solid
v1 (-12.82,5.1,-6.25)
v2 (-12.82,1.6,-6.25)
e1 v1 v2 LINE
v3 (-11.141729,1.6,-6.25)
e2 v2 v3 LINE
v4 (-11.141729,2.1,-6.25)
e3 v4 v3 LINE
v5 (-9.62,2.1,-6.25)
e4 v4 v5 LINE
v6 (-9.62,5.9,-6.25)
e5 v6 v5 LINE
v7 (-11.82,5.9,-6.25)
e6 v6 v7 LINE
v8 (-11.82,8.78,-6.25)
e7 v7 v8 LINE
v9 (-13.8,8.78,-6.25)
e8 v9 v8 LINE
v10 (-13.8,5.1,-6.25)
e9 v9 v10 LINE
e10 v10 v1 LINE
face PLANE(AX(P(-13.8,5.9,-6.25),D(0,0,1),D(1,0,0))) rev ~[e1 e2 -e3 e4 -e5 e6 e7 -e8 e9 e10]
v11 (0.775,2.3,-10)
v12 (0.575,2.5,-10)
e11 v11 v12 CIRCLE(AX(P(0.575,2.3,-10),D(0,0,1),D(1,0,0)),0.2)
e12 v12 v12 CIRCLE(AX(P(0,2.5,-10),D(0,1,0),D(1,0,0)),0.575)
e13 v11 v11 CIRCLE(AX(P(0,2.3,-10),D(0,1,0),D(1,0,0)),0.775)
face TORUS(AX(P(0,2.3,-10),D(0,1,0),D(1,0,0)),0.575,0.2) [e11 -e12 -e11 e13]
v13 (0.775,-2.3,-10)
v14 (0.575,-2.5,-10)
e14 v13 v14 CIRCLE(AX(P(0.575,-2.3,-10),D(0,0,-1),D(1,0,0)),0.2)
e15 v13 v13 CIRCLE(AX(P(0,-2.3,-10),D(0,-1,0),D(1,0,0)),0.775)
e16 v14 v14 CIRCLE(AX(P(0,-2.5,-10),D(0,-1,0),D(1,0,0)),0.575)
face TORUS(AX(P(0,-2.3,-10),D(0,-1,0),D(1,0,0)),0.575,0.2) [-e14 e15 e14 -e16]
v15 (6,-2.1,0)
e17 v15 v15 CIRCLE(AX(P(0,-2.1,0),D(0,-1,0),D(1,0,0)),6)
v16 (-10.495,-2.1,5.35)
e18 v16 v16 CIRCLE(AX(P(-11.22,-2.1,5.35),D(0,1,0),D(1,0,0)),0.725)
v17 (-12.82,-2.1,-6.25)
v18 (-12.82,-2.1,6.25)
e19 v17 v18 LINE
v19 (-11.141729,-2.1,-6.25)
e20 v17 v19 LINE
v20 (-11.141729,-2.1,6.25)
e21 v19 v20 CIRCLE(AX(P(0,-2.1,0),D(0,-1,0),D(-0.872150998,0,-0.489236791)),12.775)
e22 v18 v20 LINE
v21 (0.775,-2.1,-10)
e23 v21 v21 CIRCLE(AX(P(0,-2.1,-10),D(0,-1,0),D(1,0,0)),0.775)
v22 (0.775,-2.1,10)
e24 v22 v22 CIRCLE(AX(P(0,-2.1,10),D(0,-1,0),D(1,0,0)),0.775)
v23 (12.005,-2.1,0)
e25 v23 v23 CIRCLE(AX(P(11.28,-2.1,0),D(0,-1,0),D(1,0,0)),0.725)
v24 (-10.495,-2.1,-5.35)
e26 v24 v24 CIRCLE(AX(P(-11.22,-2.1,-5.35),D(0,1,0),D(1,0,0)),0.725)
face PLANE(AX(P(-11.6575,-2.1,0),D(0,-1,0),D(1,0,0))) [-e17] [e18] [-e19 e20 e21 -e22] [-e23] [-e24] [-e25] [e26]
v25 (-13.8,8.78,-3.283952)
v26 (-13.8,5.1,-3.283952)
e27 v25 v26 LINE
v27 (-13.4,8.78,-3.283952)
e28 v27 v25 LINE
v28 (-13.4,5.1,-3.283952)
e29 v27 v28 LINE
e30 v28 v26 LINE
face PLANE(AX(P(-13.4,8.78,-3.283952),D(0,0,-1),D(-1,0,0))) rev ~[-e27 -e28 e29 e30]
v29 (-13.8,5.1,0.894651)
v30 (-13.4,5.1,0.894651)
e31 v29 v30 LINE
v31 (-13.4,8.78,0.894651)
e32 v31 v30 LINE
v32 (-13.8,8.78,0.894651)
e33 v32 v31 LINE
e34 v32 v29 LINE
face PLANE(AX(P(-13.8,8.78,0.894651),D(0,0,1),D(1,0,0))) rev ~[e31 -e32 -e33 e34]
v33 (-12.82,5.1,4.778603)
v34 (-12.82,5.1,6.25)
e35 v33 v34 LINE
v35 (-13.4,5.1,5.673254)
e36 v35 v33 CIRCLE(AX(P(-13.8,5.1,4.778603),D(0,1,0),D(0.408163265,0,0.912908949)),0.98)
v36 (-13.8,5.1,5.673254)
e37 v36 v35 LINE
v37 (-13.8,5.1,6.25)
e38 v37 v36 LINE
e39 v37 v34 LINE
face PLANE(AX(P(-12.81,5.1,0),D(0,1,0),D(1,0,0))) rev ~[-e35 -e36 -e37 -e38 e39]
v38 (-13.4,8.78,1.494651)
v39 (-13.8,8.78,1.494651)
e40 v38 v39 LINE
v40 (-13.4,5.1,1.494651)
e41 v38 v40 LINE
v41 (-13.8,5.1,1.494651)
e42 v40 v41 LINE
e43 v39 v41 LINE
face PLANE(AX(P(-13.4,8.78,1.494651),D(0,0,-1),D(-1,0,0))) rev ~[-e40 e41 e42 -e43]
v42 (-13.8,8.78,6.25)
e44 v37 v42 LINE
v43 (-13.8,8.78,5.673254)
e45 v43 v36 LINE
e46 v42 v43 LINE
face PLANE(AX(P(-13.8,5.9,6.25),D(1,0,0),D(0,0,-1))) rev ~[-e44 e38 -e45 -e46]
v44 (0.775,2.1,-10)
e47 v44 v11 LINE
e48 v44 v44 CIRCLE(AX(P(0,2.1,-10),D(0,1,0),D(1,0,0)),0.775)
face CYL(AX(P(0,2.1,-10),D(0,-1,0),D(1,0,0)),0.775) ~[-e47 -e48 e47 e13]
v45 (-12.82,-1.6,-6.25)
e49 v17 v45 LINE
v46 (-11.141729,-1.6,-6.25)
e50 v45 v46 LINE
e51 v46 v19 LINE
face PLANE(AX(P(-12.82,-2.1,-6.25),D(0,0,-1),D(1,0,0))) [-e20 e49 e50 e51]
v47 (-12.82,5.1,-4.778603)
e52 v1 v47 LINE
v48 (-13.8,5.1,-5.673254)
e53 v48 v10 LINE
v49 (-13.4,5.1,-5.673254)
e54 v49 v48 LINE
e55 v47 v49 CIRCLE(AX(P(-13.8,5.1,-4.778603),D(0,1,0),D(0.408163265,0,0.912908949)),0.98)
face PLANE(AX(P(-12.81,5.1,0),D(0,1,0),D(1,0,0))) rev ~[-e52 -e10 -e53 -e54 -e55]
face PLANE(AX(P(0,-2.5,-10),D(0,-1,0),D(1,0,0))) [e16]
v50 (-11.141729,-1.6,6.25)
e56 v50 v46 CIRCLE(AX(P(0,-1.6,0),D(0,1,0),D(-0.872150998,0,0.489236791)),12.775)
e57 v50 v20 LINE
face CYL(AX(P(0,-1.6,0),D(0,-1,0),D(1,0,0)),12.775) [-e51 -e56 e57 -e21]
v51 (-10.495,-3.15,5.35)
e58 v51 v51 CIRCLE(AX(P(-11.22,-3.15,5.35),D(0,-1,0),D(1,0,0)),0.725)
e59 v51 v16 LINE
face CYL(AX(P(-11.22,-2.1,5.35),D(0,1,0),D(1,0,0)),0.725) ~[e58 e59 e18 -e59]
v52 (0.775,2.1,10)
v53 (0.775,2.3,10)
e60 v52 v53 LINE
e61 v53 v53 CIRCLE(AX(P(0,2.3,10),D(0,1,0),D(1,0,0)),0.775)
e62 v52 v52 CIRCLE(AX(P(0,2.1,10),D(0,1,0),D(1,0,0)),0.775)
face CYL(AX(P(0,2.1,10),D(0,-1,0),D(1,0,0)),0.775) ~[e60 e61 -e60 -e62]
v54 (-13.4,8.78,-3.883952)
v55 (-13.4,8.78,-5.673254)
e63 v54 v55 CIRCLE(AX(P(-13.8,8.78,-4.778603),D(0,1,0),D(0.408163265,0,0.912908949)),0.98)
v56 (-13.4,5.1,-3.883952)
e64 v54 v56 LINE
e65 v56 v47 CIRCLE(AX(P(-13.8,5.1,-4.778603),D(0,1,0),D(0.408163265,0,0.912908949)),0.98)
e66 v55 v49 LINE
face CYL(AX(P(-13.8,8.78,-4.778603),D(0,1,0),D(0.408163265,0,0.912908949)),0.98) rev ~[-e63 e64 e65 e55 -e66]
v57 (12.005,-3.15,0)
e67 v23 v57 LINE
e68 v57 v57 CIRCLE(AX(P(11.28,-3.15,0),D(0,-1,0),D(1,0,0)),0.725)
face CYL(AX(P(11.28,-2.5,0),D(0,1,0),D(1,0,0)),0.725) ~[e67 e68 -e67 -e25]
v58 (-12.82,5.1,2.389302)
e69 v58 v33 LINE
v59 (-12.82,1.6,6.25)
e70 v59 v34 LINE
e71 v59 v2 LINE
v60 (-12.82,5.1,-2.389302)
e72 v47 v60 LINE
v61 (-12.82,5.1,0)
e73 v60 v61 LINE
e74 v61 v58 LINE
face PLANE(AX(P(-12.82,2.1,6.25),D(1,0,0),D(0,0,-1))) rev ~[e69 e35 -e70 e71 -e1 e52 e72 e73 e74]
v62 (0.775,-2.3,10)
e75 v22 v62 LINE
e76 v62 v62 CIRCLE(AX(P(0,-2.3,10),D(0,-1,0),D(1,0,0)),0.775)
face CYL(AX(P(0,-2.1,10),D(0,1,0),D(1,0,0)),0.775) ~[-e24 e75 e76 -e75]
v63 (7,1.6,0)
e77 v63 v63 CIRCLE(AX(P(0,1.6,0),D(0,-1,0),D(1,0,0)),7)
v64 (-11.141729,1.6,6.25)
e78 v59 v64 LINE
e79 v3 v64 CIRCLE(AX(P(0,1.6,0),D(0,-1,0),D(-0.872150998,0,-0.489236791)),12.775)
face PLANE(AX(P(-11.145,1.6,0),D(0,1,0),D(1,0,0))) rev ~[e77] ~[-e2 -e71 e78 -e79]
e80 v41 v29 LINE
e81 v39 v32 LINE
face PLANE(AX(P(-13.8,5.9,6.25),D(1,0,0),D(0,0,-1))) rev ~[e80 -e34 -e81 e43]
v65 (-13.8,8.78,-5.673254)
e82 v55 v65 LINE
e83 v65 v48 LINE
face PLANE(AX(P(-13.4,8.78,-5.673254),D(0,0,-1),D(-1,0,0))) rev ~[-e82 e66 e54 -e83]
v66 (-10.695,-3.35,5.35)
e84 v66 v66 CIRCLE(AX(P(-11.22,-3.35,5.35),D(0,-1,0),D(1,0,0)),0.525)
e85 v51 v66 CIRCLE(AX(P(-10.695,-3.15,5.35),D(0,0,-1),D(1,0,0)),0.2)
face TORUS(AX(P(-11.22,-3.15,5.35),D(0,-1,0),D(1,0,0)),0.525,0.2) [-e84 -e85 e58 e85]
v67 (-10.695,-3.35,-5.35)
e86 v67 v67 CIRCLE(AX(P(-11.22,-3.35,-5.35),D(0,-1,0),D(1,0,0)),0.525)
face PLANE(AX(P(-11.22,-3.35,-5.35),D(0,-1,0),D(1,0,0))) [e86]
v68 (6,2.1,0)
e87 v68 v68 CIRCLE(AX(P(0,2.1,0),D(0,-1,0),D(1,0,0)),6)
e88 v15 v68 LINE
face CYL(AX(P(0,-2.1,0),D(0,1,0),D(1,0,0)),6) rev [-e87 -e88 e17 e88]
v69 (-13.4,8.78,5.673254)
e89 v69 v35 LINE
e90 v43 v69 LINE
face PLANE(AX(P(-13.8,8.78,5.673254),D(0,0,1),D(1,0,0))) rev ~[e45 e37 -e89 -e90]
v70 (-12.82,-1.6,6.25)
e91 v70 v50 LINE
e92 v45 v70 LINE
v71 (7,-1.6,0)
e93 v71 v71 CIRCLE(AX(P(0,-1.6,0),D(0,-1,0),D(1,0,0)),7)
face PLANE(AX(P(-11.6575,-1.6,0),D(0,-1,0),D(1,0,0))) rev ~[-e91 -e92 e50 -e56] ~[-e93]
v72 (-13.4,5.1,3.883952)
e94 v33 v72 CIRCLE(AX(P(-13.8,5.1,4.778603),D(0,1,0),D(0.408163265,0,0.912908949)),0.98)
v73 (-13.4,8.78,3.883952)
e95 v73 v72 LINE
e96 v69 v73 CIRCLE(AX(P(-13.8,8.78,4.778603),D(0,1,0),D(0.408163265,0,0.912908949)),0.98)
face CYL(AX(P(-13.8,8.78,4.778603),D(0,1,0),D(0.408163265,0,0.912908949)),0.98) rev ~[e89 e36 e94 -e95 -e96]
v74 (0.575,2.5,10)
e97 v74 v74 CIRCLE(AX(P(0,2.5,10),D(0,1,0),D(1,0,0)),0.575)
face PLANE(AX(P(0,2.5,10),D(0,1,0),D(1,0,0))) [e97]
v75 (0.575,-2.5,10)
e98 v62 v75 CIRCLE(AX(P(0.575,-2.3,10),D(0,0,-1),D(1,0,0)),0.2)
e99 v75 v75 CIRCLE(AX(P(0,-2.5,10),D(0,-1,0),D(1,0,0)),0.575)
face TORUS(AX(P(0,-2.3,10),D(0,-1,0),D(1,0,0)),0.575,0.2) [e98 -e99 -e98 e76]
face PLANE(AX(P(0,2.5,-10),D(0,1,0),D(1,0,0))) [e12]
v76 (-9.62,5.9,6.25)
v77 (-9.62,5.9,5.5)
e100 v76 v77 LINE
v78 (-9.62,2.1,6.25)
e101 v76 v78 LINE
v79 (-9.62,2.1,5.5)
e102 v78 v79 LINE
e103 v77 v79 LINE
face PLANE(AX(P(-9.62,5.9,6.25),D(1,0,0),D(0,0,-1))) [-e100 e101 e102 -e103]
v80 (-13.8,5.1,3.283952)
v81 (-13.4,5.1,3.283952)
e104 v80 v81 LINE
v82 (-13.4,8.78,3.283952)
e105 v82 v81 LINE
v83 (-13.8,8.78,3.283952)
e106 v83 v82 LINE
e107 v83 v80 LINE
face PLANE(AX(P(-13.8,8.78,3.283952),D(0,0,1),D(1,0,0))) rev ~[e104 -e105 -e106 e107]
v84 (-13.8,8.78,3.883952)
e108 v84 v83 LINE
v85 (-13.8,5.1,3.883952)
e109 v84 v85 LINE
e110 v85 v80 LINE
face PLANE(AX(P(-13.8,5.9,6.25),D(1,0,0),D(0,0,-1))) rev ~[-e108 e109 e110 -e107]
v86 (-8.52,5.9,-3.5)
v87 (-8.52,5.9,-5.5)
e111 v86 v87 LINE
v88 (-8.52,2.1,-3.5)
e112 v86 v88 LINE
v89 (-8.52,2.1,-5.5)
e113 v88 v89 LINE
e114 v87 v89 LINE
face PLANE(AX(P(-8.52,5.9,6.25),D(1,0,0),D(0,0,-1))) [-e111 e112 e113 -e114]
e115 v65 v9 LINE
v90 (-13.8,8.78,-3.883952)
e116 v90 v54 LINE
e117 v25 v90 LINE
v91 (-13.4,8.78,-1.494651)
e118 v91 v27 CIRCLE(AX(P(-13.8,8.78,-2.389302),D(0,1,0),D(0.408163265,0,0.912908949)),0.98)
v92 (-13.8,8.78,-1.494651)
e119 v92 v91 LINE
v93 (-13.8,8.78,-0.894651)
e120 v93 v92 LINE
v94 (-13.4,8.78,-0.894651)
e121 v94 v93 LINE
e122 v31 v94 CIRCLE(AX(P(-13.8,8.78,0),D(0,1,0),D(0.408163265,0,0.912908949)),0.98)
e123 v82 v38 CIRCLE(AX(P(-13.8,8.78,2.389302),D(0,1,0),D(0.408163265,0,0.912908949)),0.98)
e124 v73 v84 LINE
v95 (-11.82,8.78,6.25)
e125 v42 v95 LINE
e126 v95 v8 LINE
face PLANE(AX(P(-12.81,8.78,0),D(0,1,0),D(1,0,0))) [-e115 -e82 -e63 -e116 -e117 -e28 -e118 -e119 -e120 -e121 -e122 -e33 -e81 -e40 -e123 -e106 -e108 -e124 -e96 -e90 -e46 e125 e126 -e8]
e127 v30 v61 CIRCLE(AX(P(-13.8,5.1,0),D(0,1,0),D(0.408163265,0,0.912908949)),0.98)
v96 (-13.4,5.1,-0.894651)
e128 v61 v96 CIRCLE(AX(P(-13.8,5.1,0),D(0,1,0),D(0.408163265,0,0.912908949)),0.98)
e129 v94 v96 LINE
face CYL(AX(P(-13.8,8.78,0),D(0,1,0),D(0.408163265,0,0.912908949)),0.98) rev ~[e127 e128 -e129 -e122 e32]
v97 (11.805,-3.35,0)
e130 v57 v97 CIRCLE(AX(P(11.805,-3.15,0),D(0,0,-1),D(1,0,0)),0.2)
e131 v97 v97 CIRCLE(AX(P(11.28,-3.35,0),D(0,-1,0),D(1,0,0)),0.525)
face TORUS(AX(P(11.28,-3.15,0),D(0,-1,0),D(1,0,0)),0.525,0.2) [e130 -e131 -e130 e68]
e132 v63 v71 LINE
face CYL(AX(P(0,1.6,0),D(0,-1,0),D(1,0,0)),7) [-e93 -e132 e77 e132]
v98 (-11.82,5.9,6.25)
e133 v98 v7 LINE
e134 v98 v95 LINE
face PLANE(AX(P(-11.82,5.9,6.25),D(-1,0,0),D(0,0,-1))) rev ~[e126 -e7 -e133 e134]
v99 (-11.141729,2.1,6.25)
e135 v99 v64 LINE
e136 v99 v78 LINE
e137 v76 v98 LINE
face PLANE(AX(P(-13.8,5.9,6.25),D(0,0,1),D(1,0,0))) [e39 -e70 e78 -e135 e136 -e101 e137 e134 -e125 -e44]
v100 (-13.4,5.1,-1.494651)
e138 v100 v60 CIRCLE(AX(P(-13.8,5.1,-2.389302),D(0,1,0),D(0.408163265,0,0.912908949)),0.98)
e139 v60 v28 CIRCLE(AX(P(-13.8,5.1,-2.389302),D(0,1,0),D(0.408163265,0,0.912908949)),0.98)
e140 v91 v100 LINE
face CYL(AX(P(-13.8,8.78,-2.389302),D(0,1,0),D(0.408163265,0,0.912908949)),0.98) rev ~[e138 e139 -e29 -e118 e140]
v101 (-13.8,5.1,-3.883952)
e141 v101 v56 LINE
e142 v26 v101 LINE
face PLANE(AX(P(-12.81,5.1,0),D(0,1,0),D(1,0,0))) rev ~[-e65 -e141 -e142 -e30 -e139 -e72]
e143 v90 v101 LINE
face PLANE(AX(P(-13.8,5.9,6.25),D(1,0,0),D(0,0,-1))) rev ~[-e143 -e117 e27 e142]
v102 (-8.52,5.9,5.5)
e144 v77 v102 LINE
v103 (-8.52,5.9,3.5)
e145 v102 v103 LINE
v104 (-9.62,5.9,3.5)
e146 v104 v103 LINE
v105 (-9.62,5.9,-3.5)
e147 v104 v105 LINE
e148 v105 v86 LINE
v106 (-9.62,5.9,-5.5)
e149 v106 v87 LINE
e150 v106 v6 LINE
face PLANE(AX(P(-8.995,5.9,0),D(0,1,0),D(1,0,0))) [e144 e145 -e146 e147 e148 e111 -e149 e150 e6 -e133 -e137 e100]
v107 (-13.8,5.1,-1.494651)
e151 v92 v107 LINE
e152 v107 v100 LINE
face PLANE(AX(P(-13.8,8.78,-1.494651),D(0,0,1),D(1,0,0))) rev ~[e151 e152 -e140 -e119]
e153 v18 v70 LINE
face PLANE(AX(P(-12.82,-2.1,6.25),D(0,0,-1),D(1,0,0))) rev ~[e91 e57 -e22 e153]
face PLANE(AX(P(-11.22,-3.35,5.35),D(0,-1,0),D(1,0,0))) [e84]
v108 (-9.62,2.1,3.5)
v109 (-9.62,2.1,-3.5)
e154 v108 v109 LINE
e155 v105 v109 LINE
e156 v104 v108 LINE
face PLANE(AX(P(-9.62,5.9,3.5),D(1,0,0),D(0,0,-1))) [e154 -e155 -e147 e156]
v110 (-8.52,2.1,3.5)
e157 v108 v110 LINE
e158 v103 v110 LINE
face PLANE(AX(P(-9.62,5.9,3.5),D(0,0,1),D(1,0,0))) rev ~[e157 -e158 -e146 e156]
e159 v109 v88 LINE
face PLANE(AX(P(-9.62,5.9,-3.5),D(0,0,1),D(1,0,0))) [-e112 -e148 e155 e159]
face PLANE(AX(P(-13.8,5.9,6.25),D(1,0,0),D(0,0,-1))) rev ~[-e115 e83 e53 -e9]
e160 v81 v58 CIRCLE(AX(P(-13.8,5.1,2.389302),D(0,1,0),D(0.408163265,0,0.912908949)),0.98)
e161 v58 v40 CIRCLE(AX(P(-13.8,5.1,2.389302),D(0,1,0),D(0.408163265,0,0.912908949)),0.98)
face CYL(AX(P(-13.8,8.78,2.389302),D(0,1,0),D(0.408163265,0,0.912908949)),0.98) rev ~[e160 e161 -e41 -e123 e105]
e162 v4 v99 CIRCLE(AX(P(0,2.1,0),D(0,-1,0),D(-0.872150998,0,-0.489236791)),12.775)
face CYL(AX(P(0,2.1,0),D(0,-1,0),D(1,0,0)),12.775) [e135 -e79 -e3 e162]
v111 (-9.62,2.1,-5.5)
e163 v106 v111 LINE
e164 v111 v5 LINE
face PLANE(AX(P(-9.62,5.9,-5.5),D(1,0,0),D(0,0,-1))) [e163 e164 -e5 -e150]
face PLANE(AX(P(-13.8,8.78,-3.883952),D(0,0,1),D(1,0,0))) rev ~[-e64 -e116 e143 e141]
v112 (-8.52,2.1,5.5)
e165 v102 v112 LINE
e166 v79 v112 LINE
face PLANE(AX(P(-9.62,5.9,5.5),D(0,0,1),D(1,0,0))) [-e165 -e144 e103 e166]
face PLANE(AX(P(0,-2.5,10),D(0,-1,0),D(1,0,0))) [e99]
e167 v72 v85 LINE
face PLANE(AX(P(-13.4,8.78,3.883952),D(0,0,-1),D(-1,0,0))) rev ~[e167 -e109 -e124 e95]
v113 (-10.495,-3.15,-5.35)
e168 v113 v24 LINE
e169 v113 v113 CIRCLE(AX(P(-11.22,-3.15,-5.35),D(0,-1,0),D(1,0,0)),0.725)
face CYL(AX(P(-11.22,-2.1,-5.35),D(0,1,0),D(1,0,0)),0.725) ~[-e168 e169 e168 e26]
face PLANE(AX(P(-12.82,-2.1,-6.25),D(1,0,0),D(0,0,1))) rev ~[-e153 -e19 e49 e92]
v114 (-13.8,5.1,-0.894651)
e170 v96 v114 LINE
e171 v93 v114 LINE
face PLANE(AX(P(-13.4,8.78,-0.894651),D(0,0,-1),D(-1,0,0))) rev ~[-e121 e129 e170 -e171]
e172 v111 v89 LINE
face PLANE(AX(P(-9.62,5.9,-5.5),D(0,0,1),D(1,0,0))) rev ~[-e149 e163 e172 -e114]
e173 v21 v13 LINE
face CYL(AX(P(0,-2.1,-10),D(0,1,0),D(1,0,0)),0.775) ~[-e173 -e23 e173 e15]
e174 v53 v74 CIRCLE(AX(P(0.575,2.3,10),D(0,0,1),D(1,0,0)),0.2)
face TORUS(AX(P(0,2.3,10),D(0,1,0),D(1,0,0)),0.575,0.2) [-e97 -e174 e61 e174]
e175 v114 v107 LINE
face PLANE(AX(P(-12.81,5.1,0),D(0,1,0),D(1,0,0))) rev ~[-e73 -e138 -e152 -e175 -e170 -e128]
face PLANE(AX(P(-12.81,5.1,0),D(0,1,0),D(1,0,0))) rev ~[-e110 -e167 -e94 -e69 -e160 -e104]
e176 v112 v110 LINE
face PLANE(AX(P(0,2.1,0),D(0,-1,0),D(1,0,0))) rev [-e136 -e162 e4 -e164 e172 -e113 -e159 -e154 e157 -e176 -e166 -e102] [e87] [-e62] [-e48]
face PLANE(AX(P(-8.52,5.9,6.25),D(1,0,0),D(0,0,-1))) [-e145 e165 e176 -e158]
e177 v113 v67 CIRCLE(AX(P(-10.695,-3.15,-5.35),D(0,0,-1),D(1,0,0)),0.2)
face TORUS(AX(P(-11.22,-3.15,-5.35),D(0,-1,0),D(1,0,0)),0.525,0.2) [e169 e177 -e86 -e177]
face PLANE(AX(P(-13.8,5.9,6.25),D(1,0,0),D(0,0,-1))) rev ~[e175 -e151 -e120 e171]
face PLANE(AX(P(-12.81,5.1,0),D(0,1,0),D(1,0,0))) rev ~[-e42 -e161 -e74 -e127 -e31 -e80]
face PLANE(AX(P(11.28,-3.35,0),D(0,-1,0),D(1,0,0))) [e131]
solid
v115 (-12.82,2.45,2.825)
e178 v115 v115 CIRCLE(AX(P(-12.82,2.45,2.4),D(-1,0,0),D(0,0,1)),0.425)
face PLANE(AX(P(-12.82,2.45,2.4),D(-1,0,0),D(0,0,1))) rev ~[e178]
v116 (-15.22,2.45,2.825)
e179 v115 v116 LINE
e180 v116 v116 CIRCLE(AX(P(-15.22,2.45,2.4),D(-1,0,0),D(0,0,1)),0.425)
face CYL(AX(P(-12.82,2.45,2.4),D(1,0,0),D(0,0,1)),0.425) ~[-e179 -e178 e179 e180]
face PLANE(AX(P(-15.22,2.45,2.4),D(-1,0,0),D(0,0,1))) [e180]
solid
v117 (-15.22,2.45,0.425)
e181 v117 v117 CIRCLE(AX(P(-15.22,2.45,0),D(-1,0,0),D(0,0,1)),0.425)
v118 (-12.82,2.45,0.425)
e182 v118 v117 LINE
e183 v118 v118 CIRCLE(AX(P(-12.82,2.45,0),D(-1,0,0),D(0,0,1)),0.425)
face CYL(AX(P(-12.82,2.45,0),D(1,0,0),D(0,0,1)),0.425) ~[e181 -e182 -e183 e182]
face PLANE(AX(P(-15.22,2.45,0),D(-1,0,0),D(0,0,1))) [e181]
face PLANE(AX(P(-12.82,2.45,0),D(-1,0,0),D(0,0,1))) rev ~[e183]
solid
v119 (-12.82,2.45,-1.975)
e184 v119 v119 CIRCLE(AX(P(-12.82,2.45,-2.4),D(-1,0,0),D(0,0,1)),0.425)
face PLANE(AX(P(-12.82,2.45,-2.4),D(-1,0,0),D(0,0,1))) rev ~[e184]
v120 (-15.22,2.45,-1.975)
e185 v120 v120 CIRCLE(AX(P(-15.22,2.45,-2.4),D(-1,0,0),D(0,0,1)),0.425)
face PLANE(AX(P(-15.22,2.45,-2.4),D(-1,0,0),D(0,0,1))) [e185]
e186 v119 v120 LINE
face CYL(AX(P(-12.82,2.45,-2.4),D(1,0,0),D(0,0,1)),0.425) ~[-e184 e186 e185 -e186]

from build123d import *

# Parameters (mm, degrees)
SKETCH_2_W           = 3.35
SKETCH_2_H           = 12.5
EXTRUDE_1_DEPTH      = 3.8
EXTRUDE_1_DEPTH_BACK = 0.5
SKETCH_4_W           = 0.95
SKETCH_4_H           = 12.5
EXTRUDE_2_DEPTH      = 3.8
SKETCH_6_W           = 1.1
SKETCH_6_H           = 0.75
SKETCH_6_H_2         = 7
CUT_EXTRUDE_1_DEPTH  = 3.8
SKETCH_7_W           = 1.98
SKETCH_7_H           = 12.5
EXTRUDE_3_DEPTH      = 2.88
EXTRUDE_3_DEPTH_BACK = 0.8
SKETCH_8_R           = 0.425
EXTRUDE_4_DEPTH      = 2.4
EXTRUDE_4_2_DEPTH    = 2.4
EXTRUDE_4_3_DEPTH    = 2.4
CUT_EXTRUDE_2_DEPTH  = 3.68
SKETCH_10_R          = 0.775
EXTRUDE_5_DEPTH      = 0.4
SKETCH_11_R          = 0.775
SKETCH_11_R_2        = 0.725
EXTRUDE_6_DEPTH      = 0.4
SKETCH_12_R          = 0.725
EXTRUDE_7_DEPTH      = 0.85
FILLET_1_R           = 0.2
SKETCH_13_W          = 2.325
SKETCH_13_H          = 12.5
EXTRUDE_8_DEPTH      = 0.5


with BuildPart() as part:
    # Эскиз1 → Повернуть1 (revolve)
    with BuildSketch(Plane.XY):
        Polygon((7, 1.6), (7, -1.6), (12.775, -1.6), (12.775, -2.1), (6, -2.1), (6, 2.1), (12.775, 2.1), (12.775, 1.6), align=None)
    revolve(axis=Axis((0, 2.1, 0), (0, -1, 0)))

    # Эскиз2 → Бобышка-Вытянуть1 (add, two sides)
    with BuildSketch(Plane(origin=(0, 2.1, 0), x_dir=(1, 0, 0), z_dir=(0, 1, 0))) as extrude_1_sk:
        with Locations((-11.145, 0)):
            Rectangle(SKETCH_2_W, SKETCH_2_H)
    extrude(amount=EXTRUDE_1_DEPTH)
    extrude(extrude_1_sk.sketch, amount=-EXTRUDE_1_DEPTH_BACK)

    # Эскиз4 → Бобышка-Вытянуть2 (add)
    with BuildSketch(Plane(origin=(0, 5.9, 0), x_dir=(1, 0, 0), z_dir=(0, 1, 0))):
        with Locations((-8.995, 0)):
            Rectangle(SKETCH_4_W, SKETCH_4_H)
    extrude(amount=-EXTRUDE_2_DEPTH)

    # Эскиз6 → Вырез-Вытянуть1 (cut)
    with BuildSketch(Plane(origin=(0, 5.9, 0), x_dir=(1, 0, 0), z_dir=(0, 1, 0))):
        with Locations((-9.07, 5.875)):
            Rectangle(SKETCH_6_W, SKETCH_6_H)
        with Locations((-9.07, 0)):
            Rectangle(SKETCH_6_W, SKETCH_6_H_2)
        with Locations((-9.07, -5.875)):
            Rectangle(SKETCH_6_W, SKETCH_6_H)
    extrude(amount=-CUT_EXTRUDE_1_DEPTH, mode=Mode.SUBTRACT)

    # Эскиз7 → Бобышка-Вытянуть3 (add, two sides)
    with BuildSketch(Plane(origin=(0, 5.9, 0), x_dir=(1, 0, 0), z_dir=(0, 1, 0))) as extrude_3_sk:
        with Locations((-12.81, 0)):
            Rectangle(SKETCH_7_W, SKETCH_7_H)
    extrude(amount=EXTRUDE_3_DEPTH)
    extrude(extrude_3_sk.sketch, amount=-EXTRUDE_3_DEPTH_BACK)

    # Эскиз9 → Вырез-Вытянуть2 (cut)
    with BuildSketch(Plane(origin=(0, 8.78, 0), x_dir=(1, 0, 0), z_dir=(0, 1, 0))):
        with BuildLine():
            Line((-13.4, 3.28395231), (-13.8, 3.28395231))
            Line((-13.8, 3.28395231), (-13.8, 1.49465077))
            Line((-13.8, 1.49465077), (-13.4, 1.49465077))
            ThreePointArc((-13.4, 1.49465077), (-12.82, 2.38930154), (-13.4, 3.28395231))
        make_face()
        with BuildLine():
            Line((-13.4, -1.49465077), (-13.8, -1.49465077))
            Line((-13.8, -1.49465077), (-13.8, -3.28395231))
            Line((-13.8, -3.28395231), (-13.4, -3.28395231))
            ThreePointArc((-13.4, -3.28395231), (-12.82, -2.38930154), (-13.4, -1.49465077))
        make_face()
        with BuildLine():
            Line((-13.4, 0.89465077), (-13.8, 0.89465077))
            Line((-13.8, 0.89465077), (-13.8, -0.89465077))
            Line((-13.8, -0.89465077), (-13.4, -0.89465077))
            ThreePointArc((-13.4, -0.89465077), (-12.82, 0), (-13.4, 0.89465077))
        make_face()
        with BuildLine():
            Line((-13.4, 5.673253849), (-13.8, 5.673253849))
            Line((-13.8, 5.673253849), (-13.8, 3.88395231))
            Line((-13.8, 3.88395231), (-13.4, 3.88395231))
            ThreePointArc((-13.4, 3.88395231), (-12.82, 4.778603079), (-13.4, 5.673253849))
        make_face()
        with BuildLine():
            Line((-13.4, -3.88395231), (-13.8, -3.88395231))
            Line((-13.8, -3.88395231), (-13.8, -5.673253849))
            Line((-13.8, -5.673253849), (-13.4, -5.673253849))
            ThreePointArc((-13.4, -5.673253849), (-12.82, -4.778603079), (-13.4, -3.88395231))
        make_face()
    extrude(amount=-CUT_EXTRUDE_2_DEPTH, mode=Mode.SUBTRACT)

    # Эскиз10 → Бобышка-Вытянуть5 (add)
    with BuildSketch(Plane(origin=(0, 2.1, 0), x_dir=(1, 0, 0), z_dir=(0, 1, 0))):
        with Locations((0, 10)):
            Circle(SKETCH_10_R)
        with Locations((0, -10)):
            Circle(SKETCH_10_R)
    extrude(amount=EXTRUDE_5_DEPTH)

    # Эскиз11 → Бобышка-Вытянуть6 (add)
    with BuildSketch(Plane.XZ.offset(2.1)):
        with Locations((0, -10)):
            Circle(SKETCH_11_R)
        with Locations((0, 10)):
            Circle(SKETCH_11_R)
        with Locations((11.28, 0)):
            Circle(SKETCH_11_R_2)
        with Locations((-11.22, 5.35)):
            Circle(SKETCH_11_R_2)
        with Locations((-11.22, -5.35)):
            Circle(SKETCH_11_R_2)
    extrude(amount=EXTRUDE_6_DEPTH)

    # Эскиз12 → Бобышка-Вытянуть7 (add)
    with BuildSketch(Plane.XZ.offset(2.5)):
        with Locations((11.28, 0)):
            Circle(SKETCH_12_R)
        with Locations((-11.22, -5.35)):
            Circle(SKETCH_12_R)
        with Locations((-11.22, 5.35)):
            Circle(SKETCH_12_R)
    extrude(amount=EXTRUDE_7_DEPTH)

    # Скругление1
    fillet_1_edges = [part.edges().sort_by_distance(p)[0] for p in [
        (-0.775, 2.5, -10),
        (-0.775, 2.5, 10),
        (-0.775, -2.5, -10),
        (-0.775, -2.5, 10),
        (10.555, -3.35, 0),
        (-11.945, -3.35, -5.35),
        (-11.945, -3.35, 5.35),
    ]]
    fillet(fillet_1_edges, radius=FILLET_1_R)

    # Эскиз13 → Бобышка-Вытянуть8 (add)
    with BuildSketch(Plane.XZ.offset(2.1)):
        with Locations((-11.6575, 0)):
            Rectangle(SKETCH_13_W, SKETCH_13_H)
    extrude(amount=-EXTRUDE_8_DEPTH)


with BuildPart() as body_2:
    # Эскиз8 → Бобышка-Вытянуть4 (new body)
    with BuildSketch(Plane.ZY.offset(12.82)):
        with Locations((-2.4, 2.45)):
            Circle(SKETCH_8_R)
    extrude(amount=EXTRUDE_4_DEPTH)


with BuildPart() as body_3:
    # Эскиз8 → Extrude 4 2 (new body)
    with BuildSketch(Plane.ZY.offset(12.82)):
        with Locations((0, 2.45)):
            Circle(SKETCH_8_R)
    extrude(amount=EXTRUDE_4_2_DEPTH)


with BuildPart() as body_4:
    # Эскиз8 → Extrude 4 3 (new body)
    with BuildSketch(Plane.ZY.offset(12.82)):
        with Locations((2.4, 2.45)):
            Circle(SKETCH_8_R)
    extrude(amount=EXTRUDE_4_3_DEPTH)


solid = Compound([part.part, body_2.part, body_3.part, body_4.part])
